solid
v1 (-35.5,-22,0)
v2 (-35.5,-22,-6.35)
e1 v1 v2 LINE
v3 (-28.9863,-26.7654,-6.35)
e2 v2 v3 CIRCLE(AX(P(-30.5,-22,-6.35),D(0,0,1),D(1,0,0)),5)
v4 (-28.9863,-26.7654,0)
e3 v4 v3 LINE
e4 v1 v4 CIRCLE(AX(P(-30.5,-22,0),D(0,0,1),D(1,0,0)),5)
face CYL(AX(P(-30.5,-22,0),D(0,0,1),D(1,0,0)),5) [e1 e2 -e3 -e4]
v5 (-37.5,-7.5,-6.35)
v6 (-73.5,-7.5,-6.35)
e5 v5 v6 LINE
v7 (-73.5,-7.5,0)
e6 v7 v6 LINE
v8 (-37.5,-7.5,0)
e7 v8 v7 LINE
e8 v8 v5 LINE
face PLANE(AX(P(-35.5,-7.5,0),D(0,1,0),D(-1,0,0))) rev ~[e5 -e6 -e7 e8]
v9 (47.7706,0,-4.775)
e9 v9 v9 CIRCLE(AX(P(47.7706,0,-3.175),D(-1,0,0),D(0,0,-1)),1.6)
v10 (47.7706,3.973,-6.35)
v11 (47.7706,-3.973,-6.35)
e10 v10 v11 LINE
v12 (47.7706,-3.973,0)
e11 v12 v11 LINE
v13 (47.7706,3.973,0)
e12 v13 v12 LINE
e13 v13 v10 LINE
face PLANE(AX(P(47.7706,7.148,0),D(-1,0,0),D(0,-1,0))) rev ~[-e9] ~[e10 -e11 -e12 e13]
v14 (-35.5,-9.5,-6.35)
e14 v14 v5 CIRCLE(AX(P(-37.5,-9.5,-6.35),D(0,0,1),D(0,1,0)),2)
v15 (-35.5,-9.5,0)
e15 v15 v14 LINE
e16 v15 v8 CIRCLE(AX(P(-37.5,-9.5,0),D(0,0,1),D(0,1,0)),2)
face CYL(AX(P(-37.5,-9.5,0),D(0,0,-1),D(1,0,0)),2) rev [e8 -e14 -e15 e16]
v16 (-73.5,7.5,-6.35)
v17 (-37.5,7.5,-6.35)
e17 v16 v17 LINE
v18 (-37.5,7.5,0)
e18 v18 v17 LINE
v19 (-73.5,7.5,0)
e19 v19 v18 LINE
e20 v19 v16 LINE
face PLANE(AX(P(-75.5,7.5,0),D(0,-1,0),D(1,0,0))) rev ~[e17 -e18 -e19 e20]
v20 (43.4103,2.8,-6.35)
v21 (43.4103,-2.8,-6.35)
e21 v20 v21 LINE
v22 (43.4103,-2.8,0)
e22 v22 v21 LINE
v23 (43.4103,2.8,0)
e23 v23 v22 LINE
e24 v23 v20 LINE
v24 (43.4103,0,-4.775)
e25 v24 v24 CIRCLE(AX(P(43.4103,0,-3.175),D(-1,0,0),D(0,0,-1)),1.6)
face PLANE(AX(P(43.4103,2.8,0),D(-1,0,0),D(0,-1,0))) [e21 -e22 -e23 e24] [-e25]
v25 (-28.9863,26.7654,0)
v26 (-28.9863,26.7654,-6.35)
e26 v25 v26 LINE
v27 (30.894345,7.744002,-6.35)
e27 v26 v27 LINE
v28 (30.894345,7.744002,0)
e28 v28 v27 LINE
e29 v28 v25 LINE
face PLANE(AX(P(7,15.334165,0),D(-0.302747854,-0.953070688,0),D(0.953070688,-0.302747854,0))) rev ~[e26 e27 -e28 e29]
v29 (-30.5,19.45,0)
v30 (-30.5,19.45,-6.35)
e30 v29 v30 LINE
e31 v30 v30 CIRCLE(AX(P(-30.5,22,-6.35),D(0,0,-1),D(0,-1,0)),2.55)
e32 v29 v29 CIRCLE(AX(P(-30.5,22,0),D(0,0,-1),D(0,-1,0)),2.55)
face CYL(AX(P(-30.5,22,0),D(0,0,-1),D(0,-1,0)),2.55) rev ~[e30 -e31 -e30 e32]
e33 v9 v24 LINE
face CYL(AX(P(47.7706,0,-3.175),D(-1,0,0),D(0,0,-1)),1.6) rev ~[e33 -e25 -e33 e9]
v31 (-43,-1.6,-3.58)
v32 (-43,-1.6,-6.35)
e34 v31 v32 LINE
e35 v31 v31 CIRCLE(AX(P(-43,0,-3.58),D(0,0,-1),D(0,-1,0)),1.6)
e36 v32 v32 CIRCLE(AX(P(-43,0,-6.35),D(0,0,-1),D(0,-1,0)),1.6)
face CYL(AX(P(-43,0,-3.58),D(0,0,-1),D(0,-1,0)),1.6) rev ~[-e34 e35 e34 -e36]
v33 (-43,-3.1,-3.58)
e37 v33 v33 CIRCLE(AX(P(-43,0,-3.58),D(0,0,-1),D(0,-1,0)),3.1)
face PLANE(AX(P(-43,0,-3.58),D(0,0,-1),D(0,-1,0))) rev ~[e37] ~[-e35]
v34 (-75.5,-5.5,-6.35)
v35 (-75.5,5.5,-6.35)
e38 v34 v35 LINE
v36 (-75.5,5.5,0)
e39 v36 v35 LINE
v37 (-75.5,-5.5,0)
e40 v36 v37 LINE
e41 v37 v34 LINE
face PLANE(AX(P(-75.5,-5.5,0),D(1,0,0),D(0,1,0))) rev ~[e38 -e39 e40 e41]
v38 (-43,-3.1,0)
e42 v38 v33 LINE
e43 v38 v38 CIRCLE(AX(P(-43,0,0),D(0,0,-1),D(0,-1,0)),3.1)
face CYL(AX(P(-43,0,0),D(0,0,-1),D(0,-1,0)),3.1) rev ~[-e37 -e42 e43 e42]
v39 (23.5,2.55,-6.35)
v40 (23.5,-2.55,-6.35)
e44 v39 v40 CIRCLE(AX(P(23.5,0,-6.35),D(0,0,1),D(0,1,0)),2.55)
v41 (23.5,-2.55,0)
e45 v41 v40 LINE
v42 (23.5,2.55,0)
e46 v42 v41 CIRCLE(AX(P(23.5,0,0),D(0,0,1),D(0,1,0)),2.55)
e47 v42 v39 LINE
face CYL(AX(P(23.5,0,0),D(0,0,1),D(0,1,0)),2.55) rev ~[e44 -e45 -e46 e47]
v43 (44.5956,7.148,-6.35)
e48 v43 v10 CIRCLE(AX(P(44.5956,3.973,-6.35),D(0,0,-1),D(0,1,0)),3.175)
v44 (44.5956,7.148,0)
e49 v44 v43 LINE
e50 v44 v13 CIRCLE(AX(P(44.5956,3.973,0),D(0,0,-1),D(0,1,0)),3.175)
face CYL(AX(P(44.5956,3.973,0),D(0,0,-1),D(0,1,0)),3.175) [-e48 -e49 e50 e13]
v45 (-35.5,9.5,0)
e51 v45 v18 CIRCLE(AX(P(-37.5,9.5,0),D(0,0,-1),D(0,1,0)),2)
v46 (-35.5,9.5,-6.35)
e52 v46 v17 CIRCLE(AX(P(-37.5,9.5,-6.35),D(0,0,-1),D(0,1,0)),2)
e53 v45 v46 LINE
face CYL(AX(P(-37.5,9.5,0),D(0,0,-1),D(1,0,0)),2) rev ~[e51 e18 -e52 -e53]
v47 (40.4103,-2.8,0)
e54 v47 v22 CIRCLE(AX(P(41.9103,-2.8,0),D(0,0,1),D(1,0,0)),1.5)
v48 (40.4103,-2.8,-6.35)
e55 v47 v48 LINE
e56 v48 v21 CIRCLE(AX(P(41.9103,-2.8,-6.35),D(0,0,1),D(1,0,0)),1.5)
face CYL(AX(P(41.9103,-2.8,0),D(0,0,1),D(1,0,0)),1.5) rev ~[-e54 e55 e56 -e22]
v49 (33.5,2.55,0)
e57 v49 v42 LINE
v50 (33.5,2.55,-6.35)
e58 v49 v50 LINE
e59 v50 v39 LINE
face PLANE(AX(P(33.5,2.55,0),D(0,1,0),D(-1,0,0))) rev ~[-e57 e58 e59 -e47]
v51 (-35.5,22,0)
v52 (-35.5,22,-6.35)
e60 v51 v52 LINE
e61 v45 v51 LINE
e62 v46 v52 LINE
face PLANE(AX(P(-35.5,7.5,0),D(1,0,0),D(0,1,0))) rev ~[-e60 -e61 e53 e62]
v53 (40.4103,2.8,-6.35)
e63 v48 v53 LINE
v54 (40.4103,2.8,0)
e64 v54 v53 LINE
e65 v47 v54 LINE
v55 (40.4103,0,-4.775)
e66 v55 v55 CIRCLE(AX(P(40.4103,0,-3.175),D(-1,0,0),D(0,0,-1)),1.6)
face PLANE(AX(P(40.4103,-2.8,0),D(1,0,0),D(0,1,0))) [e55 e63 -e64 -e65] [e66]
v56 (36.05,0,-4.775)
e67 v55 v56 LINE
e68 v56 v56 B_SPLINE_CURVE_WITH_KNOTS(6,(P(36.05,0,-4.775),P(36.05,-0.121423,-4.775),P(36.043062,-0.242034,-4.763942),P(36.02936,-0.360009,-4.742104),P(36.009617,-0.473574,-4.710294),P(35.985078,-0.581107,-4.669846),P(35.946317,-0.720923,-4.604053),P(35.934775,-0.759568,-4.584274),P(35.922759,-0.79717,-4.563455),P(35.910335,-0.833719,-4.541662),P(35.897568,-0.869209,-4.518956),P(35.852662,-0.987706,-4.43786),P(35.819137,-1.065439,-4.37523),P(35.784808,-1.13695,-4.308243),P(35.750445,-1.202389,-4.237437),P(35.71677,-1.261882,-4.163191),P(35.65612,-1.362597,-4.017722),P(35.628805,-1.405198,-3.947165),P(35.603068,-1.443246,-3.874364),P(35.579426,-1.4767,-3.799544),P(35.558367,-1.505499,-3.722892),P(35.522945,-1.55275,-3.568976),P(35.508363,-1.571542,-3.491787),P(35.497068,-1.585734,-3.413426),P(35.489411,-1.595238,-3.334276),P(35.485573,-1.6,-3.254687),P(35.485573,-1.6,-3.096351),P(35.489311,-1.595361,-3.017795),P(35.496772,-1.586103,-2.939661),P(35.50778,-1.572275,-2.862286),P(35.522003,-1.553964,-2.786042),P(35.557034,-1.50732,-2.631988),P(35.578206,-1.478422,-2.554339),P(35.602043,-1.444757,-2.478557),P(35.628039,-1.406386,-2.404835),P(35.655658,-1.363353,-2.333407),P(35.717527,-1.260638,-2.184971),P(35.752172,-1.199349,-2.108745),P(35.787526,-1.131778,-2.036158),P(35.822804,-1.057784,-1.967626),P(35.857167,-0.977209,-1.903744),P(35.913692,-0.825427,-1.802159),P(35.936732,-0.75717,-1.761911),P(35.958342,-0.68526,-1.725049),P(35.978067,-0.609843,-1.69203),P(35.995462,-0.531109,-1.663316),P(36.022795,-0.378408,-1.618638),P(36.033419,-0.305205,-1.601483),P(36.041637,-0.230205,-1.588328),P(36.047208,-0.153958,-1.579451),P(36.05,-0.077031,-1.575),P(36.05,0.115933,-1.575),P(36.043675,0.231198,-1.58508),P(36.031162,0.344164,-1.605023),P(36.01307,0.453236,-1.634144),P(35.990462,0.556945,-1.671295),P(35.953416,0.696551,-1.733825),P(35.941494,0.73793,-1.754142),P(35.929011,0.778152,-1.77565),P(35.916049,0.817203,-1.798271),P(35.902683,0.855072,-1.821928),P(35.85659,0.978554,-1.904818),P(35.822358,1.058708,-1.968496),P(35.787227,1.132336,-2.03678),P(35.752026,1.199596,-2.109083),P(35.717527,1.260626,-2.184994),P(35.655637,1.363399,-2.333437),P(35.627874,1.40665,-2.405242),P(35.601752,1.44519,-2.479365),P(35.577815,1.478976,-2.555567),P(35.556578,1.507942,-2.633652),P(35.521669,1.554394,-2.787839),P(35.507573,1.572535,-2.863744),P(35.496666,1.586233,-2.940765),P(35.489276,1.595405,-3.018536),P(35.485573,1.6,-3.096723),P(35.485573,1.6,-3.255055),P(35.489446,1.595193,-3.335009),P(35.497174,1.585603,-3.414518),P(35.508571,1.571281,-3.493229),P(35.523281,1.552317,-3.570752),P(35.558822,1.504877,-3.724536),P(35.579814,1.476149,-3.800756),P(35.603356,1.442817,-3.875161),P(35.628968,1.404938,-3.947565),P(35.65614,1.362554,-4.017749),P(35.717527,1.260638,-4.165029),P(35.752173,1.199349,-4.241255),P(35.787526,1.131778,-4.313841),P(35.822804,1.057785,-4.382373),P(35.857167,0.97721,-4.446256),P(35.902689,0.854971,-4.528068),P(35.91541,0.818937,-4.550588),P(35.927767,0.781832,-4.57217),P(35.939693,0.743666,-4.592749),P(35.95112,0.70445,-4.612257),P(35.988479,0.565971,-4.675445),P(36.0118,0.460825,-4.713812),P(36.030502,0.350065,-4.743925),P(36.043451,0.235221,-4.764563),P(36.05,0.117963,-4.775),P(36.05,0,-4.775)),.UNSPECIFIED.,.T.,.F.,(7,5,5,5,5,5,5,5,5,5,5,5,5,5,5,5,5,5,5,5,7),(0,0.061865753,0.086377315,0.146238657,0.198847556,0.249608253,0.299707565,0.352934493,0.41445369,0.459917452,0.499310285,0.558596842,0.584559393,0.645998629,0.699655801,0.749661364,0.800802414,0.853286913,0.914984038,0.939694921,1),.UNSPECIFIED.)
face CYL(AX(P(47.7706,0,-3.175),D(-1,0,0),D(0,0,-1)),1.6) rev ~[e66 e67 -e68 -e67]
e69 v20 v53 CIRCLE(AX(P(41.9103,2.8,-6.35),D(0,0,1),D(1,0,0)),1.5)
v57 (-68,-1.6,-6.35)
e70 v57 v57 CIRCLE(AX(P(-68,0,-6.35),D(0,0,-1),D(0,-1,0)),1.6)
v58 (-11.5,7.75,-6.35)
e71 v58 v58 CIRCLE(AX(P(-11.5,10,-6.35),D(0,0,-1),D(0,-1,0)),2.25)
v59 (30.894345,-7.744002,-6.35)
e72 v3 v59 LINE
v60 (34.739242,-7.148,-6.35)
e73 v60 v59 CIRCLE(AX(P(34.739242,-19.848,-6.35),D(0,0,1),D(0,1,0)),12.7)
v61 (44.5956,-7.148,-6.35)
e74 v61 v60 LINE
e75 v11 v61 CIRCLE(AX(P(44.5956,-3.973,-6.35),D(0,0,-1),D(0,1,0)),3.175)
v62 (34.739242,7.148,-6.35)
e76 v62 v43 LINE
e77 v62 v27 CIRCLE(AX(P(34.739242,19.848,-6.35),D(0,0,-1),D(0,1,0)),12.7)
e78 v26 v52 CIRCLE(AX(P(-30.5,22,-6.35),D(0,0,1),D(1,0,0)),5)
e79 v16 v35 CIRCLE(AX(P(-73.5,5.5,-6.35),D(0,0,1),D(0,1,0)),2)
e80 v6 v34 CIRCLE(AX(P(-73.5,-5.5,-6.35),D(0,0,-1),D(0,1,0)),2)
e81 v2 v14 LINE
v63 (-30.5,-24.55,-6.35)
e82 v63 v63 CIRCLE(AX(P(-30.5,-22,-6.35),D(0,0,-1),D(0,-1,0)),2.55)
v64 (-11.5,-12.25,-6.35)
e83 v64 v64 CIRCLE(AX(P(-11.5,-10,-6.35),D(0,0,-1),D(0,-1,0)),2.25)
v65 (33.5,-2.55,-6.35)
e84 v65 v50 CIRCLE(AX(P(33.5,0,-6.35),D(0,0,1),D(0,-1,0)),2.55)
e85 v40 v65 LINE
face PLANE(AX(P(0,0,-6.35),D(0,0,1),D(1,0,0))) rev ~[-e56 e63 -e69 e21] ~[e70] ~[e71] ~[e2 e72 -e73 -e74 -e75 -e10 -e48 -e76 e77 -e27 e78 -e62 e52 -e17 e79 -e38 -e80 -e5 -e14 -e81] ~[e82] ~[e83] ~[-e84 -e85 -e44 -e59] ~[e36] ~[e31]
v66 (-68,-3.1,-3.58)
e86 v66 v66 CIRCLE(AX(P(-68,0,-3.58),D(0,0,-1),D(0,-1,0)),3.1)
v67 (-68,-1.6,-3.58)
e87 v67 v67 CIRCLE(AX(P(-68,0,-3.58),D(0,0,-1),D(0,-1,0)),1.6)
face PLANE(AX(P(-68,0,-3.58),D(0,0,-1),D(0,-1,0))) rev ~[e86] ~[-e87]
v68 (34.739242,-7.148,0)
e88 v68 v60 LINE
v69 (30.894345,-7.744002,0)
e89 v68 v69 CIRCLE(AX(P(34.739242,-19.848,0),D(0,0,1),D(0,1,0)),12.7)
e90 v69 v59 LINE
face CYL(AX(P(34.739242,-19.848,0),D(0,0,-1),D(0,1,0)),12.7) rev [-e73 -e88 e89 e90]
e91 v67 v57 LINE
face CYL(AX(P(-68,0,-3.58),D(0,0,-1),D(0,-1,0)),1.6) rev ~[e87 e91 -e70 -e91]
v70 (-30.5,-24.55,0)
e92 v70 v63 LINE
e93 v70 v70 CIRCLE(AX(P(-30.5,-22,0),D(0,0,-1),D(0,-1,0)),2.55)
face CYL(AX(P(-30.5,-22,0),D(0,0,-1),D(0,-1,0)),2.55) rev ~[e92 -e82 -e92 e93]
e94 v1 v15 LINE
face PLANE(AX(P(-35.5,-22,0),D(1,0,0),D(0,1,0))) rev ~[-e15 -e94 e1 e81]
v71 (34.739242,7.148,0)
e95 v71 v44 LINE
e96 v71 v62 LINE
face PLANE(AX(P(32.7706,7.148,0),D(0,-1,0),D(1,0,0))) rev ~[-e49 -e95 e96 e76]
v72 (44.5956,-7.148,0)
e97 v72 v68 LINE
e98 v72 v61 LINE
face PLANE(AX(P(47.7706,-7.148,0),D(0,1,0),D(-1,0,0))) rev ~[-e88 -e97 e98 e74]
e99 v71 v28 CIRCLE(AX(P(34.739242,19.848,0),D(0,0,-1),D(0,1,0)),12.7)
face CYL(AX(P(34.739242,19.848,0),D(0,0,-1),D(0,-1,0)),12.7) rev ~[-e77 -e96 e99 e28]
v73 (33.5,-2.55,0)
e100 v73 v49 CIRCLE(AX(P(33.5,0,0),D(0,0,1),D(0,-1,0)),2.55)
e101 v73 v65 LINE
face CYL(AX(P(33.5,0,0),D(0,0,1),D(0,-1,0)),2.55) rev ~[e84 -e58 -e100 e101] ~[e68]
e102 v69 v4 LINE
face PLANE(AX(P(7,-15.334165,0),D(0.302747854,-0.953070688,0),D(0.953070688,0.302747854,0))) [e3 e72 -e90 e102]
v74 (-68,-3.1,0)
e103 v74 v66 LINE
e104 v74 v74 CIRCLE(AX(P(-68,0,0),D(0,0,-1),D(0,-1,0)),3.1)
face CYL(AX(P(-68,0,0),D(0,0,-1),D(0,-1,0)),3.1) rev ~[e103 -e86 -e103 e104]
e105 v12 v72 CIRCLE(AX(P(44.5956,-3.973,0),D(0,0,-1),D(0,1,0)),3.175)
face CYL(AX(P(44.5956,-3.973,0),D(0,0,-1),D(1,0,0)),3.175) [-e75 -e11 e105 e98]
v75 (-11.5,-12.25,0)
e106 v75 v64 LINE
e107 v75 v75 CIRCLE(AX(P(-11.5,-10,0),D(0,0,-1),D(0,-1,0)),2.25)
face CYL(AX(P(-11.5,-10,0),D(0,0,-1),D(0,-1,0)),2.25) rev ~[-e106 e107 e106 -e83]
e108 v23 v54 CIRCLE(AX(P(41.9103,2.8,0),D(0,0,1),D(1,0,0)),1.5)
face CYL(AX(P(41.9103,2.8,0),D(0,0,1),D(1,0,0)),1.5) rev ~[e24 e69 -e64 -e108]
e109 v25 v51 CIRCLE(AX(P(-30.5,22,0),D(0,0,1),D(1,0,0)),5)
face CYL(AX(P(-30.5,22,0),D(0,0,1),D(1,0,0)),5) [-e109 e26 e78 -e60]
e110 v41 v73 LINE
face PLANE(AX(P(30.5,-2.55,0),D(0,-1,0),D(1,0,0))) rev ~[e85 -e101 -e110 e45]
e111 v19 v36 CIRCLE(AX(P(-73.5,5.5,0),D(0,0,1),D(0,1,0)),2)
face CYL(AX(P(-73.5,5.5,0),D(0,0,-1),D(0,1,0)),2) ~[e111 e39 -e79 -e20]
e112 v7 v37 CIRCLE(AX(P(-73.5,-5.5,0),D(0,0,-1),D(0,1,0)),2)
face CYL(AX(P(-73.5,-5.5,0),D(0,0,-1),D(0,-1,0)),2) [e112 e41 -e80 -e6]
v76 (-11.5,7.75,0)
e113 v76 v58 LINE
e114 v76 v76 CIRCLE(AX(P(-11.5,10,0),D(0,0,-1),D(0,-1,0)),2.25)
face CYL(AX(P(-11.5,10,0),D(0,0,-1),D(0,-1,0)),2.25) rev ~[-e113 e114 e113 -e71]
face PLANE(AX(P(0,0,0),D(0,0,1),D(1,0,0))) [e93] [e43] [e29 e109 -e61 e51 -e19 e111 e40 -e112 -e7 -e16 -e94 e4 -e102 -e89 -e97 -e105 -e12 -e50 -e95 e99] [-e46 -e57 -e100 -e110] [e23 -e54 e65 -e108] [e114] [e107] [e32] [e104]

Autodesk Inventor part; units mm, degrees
ref_plane "YZ Plane" through (0, 0, 0) normal (1, 0, 0) x (0, 1, 0)
ref_plane "XY Plane" through (0, 0, 0) normal (0, 0, 1) x (1, 0, 0)
sketch "Sketch1" plane through (0, 0, 0) normal (0, 0, 1) x (1, 0, 0)
  line L0 (-20, 150) -> (20, 150) construction
  line L1 (20, 150) -> (20, -150) construction
  line L2 (20, -150) -> (-20, -150) construction
  line L3 (-20, -150) -> (-20, 150) construction
  circle A0 centre (-30.5, 22) radius 11.95 construction
  circle A1 centre (-30.5, -22) radius 11.95 construction
  circle A2 centre (30.5, 0) radius 11.95 construction
  line L4 (42.45, 4.056) -> (42.45, -13.1126) construction
  circle A3 centre (30.5, 0) radius 7.5
  circle A4 centre (-30.5, 22) radius 5
  circle A5 centre (-30.5, -22) radius 5
  line L5 (-35.5, 3.8118) -> (-35.5, -3.8118) construction
  line L6 (0, 150) -> (0, -150) construction
  line L7 (-20, -108) -> (-20, -150) construction
  line L8 (-20, 150) -> (-20, 108) construction
  line L9 (-75.5, 7.5) -> (-35.5, 7.5)
  line L10 (-35.5, 7.5) -> (-35.5, -7.5)
  line L11 (-35.5, -7.5) -> (-75.5, -7.5)
  line L12 (-75.5, -7.5) -> (-75.5, 7.5)
  circle A6 centre (0, -150) radius 6 construction
  circle A7 centre (-11.5, -10) radius 4.5
  circle A8 centre (0, -150) radius 7
  line L13 (-7, -150) -> (-7, -10)
  line L14 (-11.5, 5.5) -> (-180, 5.5)
  line L15 (-11.5, -5.5) -> (-180, -5.5)
  line L16 (-185.5, -10) -> (-35.5, -10) construction
  line L17 (-35.5, -10) -> (-35.5, 10) construction
  line L18 (-35.5, 10) -> (-185.5, 10) construction
  line L19 (-185.5, 10) -> (-185.5, -10) construction
  circle A9 centre (-180, 0) radius 4.5 construction
  circle A10 centre (-180, 0) radius 5.5
  circle A11 centre (-11.5, -10) radius 2.5 construction
  line L20 (-35.5, -22) -> (-35.5, 22)
  line L21 (-28.9863, -26.7654) -> (32.7706, -7.148)
  line L22 (-28.9863, 26.7654) -> (32.7706, 7.148)
  line L23 (-20, 0) -> (0, 0)
  circle A12 centre (0, 150) radius 4.5 construction
  circle A13 centre (0, 150) radius 7
  line L24 (-7, 150) -> (-7, 10)
  circle A14 centre (-11.5, 10) radius 4.5
  line L25 (7, -150) -> (7, 150)
  point P0 (20, 0)
  point P1 (-29.8, 0)
  point P2 (-35.4948, -21.7719)
  point P3 (-35.4948, 21.7719)
  point P4 (-28.5008, 26.5829)
  point P5 (32.6594, 7.1824)
  point P6 (32.6594, -7.1824)
  point P7 (-28.5008, -26.5829)
  point P8 (-35.5, 0)
  point P9 (-68, 0)
  point P10 (-43, 0)
  point P11 (-75.5, 0)
  point P12 (-35.5, 0)
  point P13 (-95.75, -5.5)
  point P14 (-185.5, 0)
  dimension "d0" = 40
  dimension "d1" = 300
  dimension "d2" = 23.9
  dimension "d3" = 22
  dimension "d4" = 22
  dimension "d6" = 30.5
  dimension "d7" = 30.5
  dimension "d12" = 15
  dimension "d38" = 10
  dimension "d42" = 15
  dimension "d43" = 40
  dimension "d44" = 25
  dimension "d45" = 7.5
  dimension "d46" = 7.5
  dimension "d48" = 12
  dimension "d49" = 9
  dimension "d51" = 1
  dimension "d53" = 20
  dimension "d55" = 9
  dimension "d56" = 1
  dimension "d60" = 150
  dimension "d74" = 9
  dimension "d75" = 2.5
  dimension "d76" = 9
extrude "Extrusion1" add sketch "Sketch1" against normal blind 6.35 contours A3 | A3 L21 L25 L22 | L25 L21 L13 A7 L15 L10 L14 A14 L24 L22 | L24 A14 L14 L10 L20 A4 L22 | L21 A5 L20 L10 L15 A7 L13 | A4 | A14 | A7 | A5 | L10 L14 L12 L9 | L10 L15 L12 L14 | L10 L11 L12 L15
hole "Hole1" at (-30.5, 22, 0) at (-30.5, -22, 0) at (30.5, 0, 0) direction (0, 0, -1) diameter 5.1 end through all
hole "Hole2" at (-43, 0, 0) at (-68, 0, 0) direction (0, 0, -1) diameter 3.2 end through all counterbore diameter 6.2 counterbore depth 3.58
fillet "Fillet1" radius 2 4 edges at (-75.5, 7.5, -3.175) (-75.5, -7.5, -3.175) (-35.5, -7.5, -3.175) (-35.5, 7.5, -3.175)
hole "Hole4" at (-11.5, -10, 0) at (-11.5, 10, 0) direction (0, 0, -1) diameter 4.5 end through all
sketch "Sketch3" plane through (0, 0, 0) normal (0, 0, 1) x (1, 0, 0)
  circle A0 centre (-11.5, -10) radius 2.25 projected
  circle A1 centre (-11.5, 10) radius 2.25 projected
  circle A2 centre (-43, 0) radius 3.1 projected
  circle A3 centre (-68, 0) radius 3.1 projected
  circle A4 centre (-30.5, 22) radius 2.55 projected
  circle A5 centre (-30.5, -22) radius 2.55 projected
  arc A6 (-75.5, -5.5) -> (-73.5, -7.5) centre (-73.5, -5.5) ccw projected
  line L0 (-73.5, -7.5) -> (-37.5, -7.5) projected
  arc A7 (-35.5, -9.5) -> (-37.5, -7.5) centre (-37.5, -9.5) ccw projected
  line L1 (-35.5, -9.5) -> (-35.5, -22) projected
  arc A8 (-35.5, -22) -> (-28.9863, -26.7654) centre (-30.5, -22) ccw projected
  line L2 (-28.9863, -26.7654) -> (32.7706, -7.148) projected
  arc A9 (32.7706, -7.148) -> (32.7706, 7.148) centre (30.5, 0) ccw projected
  line L3 (32.7706, 7.148) -> (-28.9863, 26.7654) projected
  arc A10 (-28.9863, 26.7654) -> (-35.5, 22) centre (-30.5, 22) ccw projected
  line L4 (-35.5, 22) -> (-35.5, 9.5) projected
  arc A11 (-37.5, 7.5) -> (-35.5, 9.5) centre (-37.5, 9.5) ccw projected
  line L5 (-37.5, 7.5) -> (-73.5, 7.5) projected
  arc A12 (-73.5, 7.5) -> (-75.5, 5.5) centre (-73.5, 5.5) ccw projected
  line L6 (-75.5, 5.5) -> (-75.5, -5.5) projected
  point P0 (0, 0)
sketch "Sketch4" plane through (0, 0, 0) normal (0, 0, 1) x (1, 0, 0)
  circle A0 centre (33.5, 0) radius 2.55 construction
  line L0 (33.5, 0) -> (23.5, 0) construction
  line L1 (33.5, 2.55) -> (23.5, 2.55)
  line L2 (23.5, -2.55) -> (33.5, -2.55)
  arc A1 (33.5, -2.55) -> (33.5, 2.55) centre (33.5, 0) ccw
  arc A2 (23.5, 2.55) -> (23.5, -2.55) centre (23.5, 0) ccw
  circle A3 centre (30.5, 0) radius 2.55 projected
  point P0 (0, 0)
  point P1 (28.5, 0)
  point P2 (33.5, 2.55)
  dimension "d78" = 10
  dimension "d97" = 3
extrude "Extrusion2" cut sketch "Sketch4" against normal blind 25.4
sketch "Sketch5" plane through (0, 0, 0) normal (0, 0, 1) x (1, 0, 0)
  line L0 (32.7706, 7.148) -> (-28.9863, 26.7654) projected
  line L1 (32.7706, 7.148) -> (47.7706, 7.148)
  line L2 (47.7706, 7.148) -> (47.7706, -7.148)
  line L3 (47.7706, -7.148) -> (32.7706, -7.148)
  line L4 (-28.9863, -26.7654) -> (32.7706, -7.148) projected
  line L5 (40.4103, 2.8) -> (43.4103, 2.8)
  line L6 (43.4103, 2.8) -> (43.4103, -2.8)
  line L7 (43.4103, -2.8) -> (40.4103, -2.8)
  line L8 (40.4103, -2.8) -> (40.4103, 2.8)
  line L9 (36.05, 2.2796) -> (36.05, -2.3678) construction
  arc A0 (32.7706, -7.148) -> (32.7706, 7.148) centre (30.5, 0) ccw projected
  circle A1 centre (41.9103, 2.8) radius 1.5
  circle A2 centre (41.9103, -2.8) radius 1.5
  arc A3 (33.5, -2.55) -> (33.5, 2.55) centre (33.5, 0) ccw projected
  point P0 (0, 0)
  point P1 (32.7098, 0)
  point P2 (40.4103, 0)
  point P3 (43.4103, 2.8)
  point P4 (40.4103, 2.8)
  dimension "d81" = 3
  dimension "d82" = 5.6
  dimension "d83" = 15
  dimension "d84" = 4.3603
  dimension "d85" = 4.3603
extrude "Extrusion3" add sketch "Sketch5" against normal up to surface (6.35 mm away)
sketch "Sketch6" plane through (47.7706, -7.148, 0) normal (1, 0, 0) x (0, 0, -1)
  line L0 (6.35, 14.2961) -> (6.35, 0) projected
  line L1 (0, 14.2961) -> (6.35, 14.2961) projected
  line L2 (0, 0) -> (0, 14.2961) projected
  line L3 (0, 0) -> (6.35, 0) projected
  point P0 (0, 7.148)
  point P1 (3.175, 7.148)
  point P2 (0, 7.148)
  point P3 (3.175, 14.2961)
hole "Hole5" at (47.7706, 0, -3.175) direction (-1, 0, 0) diameter 3.2 depth 25.4 tip angle 118
fillet "Fillet2" radius 12.7 2 edges at (32.7706, 7.148, -3.175) (32.7706, -7.148, -3.175)
fillet "Fillet3" radius 3.175 2 edges at (47.7706, -7.148, -3.175) (47.7706, 7.148, -3.175)
sketch "Sketch7" plane through (0, 0, -6.35) normal (0, 0, -1) x (-1, 0, 0)
  arc A0 (-43.4103, -2.8) -> (-40.4103, -2.8) centre (-41.9103, -2.8) ccw projected
  line L0 (-43.4103, -2.8) -> (-43.4103, 2.8) projected
  arc A1 (-40.4103, 2.8) -> (-43.4103, 2.8) centre (-41.9103, 2.8) ccw projected
  line L1 (-40.4103, 2.8) -> (-40.4103, -2.8) projected
  line L2 (-33.5, 2.55) -> (-23.5, 2.55) projected
  arc A2 (-23.5, -2.55) -> (-23.5, 2.55) centre (-23.5, 0) ccw projected
  line L3 (-23.5, -2.55) -> (-33.5, -2.55) projected
  circle A3 centre (30.5, 22) radius 2.55 projected
  circle A4 centre (30.5, -22) radius 2.55 projected
  circle A5 centre (68, 0) radius 1.6 projected
  circle A6 centre (43, 0) radius 1.6 projected
  arc A7 (-44.5956, 7.148) -> (-47.7706, 3.973) centre (-44.5956, 3.973) ccw projected
  line L4 (-47.7706, 3.973) -> (-47.7706, -3.973) projected
  arc A8 (-47.7706, -3.973) -> (-44.5956, -7.148) centre (-44.5956, -3.973) ccw projected
  line L5 (-44.5956, -7.148) -> (-34.7392, -7.148) projected
  arc A9 (-30.8944, -7.744) -> (-34.7392, -7.148) centre (-34.7392, -19.848) ccw projected
  line L6 (-30.8944, -7.744) -> (28.9863, -26.7654) projected
  arc A10 (28.9863, -26.7654) -> (35.5, -22) centre (30.5, -22) ccw projected
  line L7 (35.5, -22) -> (35.5, -9.5) projected
  arc A11 (37.5, -7.5) -> (35.5, -9.5) centre (37.5, -9.5) ccw projected
  line L8 (37.5, -7.5) -> (73.5, -7.5) projected
  arc A12 (73.5, -7.5) -> (75.5, -5.5) centre (73.5, -5.5) ccw projected
  line L9 (75.5, -5.5) -> (75.5, 5.5) projected
  arc A13 (75.5, 5.5) -> (73.5, 7.5) centre (73.5, 5.5) ccw projected
  line L10 (73.5, 7.5) -> (37.5, 7.5) projected
  arc A14 (35.5, 9.5) -> (37.5, 7.5) centre (37.5, 9.5) ccw projected
  line L11 (35.5, 9.5) -> (35.5, 22) projected
  arc A15 (35.5, 22) -> (28.9863, 26.7654) centre (30.5, 22) ccw projected
  line L12 (28.9863, 26.7654) -> (-30.8944, 7.744) projected
  arc A16 (-34.7392, 7.148) -> (-30.8944, 7.744) centre (-34.7392, 19.848) ccw projected
  line L13 (-34.7392, 7.148) -> (-44.5956, 7.148) projected
  circle A17 centre (11.5, 10) radius 2.25 projected
  circle A18 centre (11.5, -10) radius 2.25 projected
  arc A19 (-33.5, 2.55) -> (-33.5, -2.55) centre (-33.5, 0) ccw projected
  point P0 (0, 0)
equation "\"d4\" = d3"
equation "\"d7\" = d6"
equation "\"d46\" = d45"
equation "\"CAM_OFFSET\" = -0.508"
properties part number "XZ Plate"
